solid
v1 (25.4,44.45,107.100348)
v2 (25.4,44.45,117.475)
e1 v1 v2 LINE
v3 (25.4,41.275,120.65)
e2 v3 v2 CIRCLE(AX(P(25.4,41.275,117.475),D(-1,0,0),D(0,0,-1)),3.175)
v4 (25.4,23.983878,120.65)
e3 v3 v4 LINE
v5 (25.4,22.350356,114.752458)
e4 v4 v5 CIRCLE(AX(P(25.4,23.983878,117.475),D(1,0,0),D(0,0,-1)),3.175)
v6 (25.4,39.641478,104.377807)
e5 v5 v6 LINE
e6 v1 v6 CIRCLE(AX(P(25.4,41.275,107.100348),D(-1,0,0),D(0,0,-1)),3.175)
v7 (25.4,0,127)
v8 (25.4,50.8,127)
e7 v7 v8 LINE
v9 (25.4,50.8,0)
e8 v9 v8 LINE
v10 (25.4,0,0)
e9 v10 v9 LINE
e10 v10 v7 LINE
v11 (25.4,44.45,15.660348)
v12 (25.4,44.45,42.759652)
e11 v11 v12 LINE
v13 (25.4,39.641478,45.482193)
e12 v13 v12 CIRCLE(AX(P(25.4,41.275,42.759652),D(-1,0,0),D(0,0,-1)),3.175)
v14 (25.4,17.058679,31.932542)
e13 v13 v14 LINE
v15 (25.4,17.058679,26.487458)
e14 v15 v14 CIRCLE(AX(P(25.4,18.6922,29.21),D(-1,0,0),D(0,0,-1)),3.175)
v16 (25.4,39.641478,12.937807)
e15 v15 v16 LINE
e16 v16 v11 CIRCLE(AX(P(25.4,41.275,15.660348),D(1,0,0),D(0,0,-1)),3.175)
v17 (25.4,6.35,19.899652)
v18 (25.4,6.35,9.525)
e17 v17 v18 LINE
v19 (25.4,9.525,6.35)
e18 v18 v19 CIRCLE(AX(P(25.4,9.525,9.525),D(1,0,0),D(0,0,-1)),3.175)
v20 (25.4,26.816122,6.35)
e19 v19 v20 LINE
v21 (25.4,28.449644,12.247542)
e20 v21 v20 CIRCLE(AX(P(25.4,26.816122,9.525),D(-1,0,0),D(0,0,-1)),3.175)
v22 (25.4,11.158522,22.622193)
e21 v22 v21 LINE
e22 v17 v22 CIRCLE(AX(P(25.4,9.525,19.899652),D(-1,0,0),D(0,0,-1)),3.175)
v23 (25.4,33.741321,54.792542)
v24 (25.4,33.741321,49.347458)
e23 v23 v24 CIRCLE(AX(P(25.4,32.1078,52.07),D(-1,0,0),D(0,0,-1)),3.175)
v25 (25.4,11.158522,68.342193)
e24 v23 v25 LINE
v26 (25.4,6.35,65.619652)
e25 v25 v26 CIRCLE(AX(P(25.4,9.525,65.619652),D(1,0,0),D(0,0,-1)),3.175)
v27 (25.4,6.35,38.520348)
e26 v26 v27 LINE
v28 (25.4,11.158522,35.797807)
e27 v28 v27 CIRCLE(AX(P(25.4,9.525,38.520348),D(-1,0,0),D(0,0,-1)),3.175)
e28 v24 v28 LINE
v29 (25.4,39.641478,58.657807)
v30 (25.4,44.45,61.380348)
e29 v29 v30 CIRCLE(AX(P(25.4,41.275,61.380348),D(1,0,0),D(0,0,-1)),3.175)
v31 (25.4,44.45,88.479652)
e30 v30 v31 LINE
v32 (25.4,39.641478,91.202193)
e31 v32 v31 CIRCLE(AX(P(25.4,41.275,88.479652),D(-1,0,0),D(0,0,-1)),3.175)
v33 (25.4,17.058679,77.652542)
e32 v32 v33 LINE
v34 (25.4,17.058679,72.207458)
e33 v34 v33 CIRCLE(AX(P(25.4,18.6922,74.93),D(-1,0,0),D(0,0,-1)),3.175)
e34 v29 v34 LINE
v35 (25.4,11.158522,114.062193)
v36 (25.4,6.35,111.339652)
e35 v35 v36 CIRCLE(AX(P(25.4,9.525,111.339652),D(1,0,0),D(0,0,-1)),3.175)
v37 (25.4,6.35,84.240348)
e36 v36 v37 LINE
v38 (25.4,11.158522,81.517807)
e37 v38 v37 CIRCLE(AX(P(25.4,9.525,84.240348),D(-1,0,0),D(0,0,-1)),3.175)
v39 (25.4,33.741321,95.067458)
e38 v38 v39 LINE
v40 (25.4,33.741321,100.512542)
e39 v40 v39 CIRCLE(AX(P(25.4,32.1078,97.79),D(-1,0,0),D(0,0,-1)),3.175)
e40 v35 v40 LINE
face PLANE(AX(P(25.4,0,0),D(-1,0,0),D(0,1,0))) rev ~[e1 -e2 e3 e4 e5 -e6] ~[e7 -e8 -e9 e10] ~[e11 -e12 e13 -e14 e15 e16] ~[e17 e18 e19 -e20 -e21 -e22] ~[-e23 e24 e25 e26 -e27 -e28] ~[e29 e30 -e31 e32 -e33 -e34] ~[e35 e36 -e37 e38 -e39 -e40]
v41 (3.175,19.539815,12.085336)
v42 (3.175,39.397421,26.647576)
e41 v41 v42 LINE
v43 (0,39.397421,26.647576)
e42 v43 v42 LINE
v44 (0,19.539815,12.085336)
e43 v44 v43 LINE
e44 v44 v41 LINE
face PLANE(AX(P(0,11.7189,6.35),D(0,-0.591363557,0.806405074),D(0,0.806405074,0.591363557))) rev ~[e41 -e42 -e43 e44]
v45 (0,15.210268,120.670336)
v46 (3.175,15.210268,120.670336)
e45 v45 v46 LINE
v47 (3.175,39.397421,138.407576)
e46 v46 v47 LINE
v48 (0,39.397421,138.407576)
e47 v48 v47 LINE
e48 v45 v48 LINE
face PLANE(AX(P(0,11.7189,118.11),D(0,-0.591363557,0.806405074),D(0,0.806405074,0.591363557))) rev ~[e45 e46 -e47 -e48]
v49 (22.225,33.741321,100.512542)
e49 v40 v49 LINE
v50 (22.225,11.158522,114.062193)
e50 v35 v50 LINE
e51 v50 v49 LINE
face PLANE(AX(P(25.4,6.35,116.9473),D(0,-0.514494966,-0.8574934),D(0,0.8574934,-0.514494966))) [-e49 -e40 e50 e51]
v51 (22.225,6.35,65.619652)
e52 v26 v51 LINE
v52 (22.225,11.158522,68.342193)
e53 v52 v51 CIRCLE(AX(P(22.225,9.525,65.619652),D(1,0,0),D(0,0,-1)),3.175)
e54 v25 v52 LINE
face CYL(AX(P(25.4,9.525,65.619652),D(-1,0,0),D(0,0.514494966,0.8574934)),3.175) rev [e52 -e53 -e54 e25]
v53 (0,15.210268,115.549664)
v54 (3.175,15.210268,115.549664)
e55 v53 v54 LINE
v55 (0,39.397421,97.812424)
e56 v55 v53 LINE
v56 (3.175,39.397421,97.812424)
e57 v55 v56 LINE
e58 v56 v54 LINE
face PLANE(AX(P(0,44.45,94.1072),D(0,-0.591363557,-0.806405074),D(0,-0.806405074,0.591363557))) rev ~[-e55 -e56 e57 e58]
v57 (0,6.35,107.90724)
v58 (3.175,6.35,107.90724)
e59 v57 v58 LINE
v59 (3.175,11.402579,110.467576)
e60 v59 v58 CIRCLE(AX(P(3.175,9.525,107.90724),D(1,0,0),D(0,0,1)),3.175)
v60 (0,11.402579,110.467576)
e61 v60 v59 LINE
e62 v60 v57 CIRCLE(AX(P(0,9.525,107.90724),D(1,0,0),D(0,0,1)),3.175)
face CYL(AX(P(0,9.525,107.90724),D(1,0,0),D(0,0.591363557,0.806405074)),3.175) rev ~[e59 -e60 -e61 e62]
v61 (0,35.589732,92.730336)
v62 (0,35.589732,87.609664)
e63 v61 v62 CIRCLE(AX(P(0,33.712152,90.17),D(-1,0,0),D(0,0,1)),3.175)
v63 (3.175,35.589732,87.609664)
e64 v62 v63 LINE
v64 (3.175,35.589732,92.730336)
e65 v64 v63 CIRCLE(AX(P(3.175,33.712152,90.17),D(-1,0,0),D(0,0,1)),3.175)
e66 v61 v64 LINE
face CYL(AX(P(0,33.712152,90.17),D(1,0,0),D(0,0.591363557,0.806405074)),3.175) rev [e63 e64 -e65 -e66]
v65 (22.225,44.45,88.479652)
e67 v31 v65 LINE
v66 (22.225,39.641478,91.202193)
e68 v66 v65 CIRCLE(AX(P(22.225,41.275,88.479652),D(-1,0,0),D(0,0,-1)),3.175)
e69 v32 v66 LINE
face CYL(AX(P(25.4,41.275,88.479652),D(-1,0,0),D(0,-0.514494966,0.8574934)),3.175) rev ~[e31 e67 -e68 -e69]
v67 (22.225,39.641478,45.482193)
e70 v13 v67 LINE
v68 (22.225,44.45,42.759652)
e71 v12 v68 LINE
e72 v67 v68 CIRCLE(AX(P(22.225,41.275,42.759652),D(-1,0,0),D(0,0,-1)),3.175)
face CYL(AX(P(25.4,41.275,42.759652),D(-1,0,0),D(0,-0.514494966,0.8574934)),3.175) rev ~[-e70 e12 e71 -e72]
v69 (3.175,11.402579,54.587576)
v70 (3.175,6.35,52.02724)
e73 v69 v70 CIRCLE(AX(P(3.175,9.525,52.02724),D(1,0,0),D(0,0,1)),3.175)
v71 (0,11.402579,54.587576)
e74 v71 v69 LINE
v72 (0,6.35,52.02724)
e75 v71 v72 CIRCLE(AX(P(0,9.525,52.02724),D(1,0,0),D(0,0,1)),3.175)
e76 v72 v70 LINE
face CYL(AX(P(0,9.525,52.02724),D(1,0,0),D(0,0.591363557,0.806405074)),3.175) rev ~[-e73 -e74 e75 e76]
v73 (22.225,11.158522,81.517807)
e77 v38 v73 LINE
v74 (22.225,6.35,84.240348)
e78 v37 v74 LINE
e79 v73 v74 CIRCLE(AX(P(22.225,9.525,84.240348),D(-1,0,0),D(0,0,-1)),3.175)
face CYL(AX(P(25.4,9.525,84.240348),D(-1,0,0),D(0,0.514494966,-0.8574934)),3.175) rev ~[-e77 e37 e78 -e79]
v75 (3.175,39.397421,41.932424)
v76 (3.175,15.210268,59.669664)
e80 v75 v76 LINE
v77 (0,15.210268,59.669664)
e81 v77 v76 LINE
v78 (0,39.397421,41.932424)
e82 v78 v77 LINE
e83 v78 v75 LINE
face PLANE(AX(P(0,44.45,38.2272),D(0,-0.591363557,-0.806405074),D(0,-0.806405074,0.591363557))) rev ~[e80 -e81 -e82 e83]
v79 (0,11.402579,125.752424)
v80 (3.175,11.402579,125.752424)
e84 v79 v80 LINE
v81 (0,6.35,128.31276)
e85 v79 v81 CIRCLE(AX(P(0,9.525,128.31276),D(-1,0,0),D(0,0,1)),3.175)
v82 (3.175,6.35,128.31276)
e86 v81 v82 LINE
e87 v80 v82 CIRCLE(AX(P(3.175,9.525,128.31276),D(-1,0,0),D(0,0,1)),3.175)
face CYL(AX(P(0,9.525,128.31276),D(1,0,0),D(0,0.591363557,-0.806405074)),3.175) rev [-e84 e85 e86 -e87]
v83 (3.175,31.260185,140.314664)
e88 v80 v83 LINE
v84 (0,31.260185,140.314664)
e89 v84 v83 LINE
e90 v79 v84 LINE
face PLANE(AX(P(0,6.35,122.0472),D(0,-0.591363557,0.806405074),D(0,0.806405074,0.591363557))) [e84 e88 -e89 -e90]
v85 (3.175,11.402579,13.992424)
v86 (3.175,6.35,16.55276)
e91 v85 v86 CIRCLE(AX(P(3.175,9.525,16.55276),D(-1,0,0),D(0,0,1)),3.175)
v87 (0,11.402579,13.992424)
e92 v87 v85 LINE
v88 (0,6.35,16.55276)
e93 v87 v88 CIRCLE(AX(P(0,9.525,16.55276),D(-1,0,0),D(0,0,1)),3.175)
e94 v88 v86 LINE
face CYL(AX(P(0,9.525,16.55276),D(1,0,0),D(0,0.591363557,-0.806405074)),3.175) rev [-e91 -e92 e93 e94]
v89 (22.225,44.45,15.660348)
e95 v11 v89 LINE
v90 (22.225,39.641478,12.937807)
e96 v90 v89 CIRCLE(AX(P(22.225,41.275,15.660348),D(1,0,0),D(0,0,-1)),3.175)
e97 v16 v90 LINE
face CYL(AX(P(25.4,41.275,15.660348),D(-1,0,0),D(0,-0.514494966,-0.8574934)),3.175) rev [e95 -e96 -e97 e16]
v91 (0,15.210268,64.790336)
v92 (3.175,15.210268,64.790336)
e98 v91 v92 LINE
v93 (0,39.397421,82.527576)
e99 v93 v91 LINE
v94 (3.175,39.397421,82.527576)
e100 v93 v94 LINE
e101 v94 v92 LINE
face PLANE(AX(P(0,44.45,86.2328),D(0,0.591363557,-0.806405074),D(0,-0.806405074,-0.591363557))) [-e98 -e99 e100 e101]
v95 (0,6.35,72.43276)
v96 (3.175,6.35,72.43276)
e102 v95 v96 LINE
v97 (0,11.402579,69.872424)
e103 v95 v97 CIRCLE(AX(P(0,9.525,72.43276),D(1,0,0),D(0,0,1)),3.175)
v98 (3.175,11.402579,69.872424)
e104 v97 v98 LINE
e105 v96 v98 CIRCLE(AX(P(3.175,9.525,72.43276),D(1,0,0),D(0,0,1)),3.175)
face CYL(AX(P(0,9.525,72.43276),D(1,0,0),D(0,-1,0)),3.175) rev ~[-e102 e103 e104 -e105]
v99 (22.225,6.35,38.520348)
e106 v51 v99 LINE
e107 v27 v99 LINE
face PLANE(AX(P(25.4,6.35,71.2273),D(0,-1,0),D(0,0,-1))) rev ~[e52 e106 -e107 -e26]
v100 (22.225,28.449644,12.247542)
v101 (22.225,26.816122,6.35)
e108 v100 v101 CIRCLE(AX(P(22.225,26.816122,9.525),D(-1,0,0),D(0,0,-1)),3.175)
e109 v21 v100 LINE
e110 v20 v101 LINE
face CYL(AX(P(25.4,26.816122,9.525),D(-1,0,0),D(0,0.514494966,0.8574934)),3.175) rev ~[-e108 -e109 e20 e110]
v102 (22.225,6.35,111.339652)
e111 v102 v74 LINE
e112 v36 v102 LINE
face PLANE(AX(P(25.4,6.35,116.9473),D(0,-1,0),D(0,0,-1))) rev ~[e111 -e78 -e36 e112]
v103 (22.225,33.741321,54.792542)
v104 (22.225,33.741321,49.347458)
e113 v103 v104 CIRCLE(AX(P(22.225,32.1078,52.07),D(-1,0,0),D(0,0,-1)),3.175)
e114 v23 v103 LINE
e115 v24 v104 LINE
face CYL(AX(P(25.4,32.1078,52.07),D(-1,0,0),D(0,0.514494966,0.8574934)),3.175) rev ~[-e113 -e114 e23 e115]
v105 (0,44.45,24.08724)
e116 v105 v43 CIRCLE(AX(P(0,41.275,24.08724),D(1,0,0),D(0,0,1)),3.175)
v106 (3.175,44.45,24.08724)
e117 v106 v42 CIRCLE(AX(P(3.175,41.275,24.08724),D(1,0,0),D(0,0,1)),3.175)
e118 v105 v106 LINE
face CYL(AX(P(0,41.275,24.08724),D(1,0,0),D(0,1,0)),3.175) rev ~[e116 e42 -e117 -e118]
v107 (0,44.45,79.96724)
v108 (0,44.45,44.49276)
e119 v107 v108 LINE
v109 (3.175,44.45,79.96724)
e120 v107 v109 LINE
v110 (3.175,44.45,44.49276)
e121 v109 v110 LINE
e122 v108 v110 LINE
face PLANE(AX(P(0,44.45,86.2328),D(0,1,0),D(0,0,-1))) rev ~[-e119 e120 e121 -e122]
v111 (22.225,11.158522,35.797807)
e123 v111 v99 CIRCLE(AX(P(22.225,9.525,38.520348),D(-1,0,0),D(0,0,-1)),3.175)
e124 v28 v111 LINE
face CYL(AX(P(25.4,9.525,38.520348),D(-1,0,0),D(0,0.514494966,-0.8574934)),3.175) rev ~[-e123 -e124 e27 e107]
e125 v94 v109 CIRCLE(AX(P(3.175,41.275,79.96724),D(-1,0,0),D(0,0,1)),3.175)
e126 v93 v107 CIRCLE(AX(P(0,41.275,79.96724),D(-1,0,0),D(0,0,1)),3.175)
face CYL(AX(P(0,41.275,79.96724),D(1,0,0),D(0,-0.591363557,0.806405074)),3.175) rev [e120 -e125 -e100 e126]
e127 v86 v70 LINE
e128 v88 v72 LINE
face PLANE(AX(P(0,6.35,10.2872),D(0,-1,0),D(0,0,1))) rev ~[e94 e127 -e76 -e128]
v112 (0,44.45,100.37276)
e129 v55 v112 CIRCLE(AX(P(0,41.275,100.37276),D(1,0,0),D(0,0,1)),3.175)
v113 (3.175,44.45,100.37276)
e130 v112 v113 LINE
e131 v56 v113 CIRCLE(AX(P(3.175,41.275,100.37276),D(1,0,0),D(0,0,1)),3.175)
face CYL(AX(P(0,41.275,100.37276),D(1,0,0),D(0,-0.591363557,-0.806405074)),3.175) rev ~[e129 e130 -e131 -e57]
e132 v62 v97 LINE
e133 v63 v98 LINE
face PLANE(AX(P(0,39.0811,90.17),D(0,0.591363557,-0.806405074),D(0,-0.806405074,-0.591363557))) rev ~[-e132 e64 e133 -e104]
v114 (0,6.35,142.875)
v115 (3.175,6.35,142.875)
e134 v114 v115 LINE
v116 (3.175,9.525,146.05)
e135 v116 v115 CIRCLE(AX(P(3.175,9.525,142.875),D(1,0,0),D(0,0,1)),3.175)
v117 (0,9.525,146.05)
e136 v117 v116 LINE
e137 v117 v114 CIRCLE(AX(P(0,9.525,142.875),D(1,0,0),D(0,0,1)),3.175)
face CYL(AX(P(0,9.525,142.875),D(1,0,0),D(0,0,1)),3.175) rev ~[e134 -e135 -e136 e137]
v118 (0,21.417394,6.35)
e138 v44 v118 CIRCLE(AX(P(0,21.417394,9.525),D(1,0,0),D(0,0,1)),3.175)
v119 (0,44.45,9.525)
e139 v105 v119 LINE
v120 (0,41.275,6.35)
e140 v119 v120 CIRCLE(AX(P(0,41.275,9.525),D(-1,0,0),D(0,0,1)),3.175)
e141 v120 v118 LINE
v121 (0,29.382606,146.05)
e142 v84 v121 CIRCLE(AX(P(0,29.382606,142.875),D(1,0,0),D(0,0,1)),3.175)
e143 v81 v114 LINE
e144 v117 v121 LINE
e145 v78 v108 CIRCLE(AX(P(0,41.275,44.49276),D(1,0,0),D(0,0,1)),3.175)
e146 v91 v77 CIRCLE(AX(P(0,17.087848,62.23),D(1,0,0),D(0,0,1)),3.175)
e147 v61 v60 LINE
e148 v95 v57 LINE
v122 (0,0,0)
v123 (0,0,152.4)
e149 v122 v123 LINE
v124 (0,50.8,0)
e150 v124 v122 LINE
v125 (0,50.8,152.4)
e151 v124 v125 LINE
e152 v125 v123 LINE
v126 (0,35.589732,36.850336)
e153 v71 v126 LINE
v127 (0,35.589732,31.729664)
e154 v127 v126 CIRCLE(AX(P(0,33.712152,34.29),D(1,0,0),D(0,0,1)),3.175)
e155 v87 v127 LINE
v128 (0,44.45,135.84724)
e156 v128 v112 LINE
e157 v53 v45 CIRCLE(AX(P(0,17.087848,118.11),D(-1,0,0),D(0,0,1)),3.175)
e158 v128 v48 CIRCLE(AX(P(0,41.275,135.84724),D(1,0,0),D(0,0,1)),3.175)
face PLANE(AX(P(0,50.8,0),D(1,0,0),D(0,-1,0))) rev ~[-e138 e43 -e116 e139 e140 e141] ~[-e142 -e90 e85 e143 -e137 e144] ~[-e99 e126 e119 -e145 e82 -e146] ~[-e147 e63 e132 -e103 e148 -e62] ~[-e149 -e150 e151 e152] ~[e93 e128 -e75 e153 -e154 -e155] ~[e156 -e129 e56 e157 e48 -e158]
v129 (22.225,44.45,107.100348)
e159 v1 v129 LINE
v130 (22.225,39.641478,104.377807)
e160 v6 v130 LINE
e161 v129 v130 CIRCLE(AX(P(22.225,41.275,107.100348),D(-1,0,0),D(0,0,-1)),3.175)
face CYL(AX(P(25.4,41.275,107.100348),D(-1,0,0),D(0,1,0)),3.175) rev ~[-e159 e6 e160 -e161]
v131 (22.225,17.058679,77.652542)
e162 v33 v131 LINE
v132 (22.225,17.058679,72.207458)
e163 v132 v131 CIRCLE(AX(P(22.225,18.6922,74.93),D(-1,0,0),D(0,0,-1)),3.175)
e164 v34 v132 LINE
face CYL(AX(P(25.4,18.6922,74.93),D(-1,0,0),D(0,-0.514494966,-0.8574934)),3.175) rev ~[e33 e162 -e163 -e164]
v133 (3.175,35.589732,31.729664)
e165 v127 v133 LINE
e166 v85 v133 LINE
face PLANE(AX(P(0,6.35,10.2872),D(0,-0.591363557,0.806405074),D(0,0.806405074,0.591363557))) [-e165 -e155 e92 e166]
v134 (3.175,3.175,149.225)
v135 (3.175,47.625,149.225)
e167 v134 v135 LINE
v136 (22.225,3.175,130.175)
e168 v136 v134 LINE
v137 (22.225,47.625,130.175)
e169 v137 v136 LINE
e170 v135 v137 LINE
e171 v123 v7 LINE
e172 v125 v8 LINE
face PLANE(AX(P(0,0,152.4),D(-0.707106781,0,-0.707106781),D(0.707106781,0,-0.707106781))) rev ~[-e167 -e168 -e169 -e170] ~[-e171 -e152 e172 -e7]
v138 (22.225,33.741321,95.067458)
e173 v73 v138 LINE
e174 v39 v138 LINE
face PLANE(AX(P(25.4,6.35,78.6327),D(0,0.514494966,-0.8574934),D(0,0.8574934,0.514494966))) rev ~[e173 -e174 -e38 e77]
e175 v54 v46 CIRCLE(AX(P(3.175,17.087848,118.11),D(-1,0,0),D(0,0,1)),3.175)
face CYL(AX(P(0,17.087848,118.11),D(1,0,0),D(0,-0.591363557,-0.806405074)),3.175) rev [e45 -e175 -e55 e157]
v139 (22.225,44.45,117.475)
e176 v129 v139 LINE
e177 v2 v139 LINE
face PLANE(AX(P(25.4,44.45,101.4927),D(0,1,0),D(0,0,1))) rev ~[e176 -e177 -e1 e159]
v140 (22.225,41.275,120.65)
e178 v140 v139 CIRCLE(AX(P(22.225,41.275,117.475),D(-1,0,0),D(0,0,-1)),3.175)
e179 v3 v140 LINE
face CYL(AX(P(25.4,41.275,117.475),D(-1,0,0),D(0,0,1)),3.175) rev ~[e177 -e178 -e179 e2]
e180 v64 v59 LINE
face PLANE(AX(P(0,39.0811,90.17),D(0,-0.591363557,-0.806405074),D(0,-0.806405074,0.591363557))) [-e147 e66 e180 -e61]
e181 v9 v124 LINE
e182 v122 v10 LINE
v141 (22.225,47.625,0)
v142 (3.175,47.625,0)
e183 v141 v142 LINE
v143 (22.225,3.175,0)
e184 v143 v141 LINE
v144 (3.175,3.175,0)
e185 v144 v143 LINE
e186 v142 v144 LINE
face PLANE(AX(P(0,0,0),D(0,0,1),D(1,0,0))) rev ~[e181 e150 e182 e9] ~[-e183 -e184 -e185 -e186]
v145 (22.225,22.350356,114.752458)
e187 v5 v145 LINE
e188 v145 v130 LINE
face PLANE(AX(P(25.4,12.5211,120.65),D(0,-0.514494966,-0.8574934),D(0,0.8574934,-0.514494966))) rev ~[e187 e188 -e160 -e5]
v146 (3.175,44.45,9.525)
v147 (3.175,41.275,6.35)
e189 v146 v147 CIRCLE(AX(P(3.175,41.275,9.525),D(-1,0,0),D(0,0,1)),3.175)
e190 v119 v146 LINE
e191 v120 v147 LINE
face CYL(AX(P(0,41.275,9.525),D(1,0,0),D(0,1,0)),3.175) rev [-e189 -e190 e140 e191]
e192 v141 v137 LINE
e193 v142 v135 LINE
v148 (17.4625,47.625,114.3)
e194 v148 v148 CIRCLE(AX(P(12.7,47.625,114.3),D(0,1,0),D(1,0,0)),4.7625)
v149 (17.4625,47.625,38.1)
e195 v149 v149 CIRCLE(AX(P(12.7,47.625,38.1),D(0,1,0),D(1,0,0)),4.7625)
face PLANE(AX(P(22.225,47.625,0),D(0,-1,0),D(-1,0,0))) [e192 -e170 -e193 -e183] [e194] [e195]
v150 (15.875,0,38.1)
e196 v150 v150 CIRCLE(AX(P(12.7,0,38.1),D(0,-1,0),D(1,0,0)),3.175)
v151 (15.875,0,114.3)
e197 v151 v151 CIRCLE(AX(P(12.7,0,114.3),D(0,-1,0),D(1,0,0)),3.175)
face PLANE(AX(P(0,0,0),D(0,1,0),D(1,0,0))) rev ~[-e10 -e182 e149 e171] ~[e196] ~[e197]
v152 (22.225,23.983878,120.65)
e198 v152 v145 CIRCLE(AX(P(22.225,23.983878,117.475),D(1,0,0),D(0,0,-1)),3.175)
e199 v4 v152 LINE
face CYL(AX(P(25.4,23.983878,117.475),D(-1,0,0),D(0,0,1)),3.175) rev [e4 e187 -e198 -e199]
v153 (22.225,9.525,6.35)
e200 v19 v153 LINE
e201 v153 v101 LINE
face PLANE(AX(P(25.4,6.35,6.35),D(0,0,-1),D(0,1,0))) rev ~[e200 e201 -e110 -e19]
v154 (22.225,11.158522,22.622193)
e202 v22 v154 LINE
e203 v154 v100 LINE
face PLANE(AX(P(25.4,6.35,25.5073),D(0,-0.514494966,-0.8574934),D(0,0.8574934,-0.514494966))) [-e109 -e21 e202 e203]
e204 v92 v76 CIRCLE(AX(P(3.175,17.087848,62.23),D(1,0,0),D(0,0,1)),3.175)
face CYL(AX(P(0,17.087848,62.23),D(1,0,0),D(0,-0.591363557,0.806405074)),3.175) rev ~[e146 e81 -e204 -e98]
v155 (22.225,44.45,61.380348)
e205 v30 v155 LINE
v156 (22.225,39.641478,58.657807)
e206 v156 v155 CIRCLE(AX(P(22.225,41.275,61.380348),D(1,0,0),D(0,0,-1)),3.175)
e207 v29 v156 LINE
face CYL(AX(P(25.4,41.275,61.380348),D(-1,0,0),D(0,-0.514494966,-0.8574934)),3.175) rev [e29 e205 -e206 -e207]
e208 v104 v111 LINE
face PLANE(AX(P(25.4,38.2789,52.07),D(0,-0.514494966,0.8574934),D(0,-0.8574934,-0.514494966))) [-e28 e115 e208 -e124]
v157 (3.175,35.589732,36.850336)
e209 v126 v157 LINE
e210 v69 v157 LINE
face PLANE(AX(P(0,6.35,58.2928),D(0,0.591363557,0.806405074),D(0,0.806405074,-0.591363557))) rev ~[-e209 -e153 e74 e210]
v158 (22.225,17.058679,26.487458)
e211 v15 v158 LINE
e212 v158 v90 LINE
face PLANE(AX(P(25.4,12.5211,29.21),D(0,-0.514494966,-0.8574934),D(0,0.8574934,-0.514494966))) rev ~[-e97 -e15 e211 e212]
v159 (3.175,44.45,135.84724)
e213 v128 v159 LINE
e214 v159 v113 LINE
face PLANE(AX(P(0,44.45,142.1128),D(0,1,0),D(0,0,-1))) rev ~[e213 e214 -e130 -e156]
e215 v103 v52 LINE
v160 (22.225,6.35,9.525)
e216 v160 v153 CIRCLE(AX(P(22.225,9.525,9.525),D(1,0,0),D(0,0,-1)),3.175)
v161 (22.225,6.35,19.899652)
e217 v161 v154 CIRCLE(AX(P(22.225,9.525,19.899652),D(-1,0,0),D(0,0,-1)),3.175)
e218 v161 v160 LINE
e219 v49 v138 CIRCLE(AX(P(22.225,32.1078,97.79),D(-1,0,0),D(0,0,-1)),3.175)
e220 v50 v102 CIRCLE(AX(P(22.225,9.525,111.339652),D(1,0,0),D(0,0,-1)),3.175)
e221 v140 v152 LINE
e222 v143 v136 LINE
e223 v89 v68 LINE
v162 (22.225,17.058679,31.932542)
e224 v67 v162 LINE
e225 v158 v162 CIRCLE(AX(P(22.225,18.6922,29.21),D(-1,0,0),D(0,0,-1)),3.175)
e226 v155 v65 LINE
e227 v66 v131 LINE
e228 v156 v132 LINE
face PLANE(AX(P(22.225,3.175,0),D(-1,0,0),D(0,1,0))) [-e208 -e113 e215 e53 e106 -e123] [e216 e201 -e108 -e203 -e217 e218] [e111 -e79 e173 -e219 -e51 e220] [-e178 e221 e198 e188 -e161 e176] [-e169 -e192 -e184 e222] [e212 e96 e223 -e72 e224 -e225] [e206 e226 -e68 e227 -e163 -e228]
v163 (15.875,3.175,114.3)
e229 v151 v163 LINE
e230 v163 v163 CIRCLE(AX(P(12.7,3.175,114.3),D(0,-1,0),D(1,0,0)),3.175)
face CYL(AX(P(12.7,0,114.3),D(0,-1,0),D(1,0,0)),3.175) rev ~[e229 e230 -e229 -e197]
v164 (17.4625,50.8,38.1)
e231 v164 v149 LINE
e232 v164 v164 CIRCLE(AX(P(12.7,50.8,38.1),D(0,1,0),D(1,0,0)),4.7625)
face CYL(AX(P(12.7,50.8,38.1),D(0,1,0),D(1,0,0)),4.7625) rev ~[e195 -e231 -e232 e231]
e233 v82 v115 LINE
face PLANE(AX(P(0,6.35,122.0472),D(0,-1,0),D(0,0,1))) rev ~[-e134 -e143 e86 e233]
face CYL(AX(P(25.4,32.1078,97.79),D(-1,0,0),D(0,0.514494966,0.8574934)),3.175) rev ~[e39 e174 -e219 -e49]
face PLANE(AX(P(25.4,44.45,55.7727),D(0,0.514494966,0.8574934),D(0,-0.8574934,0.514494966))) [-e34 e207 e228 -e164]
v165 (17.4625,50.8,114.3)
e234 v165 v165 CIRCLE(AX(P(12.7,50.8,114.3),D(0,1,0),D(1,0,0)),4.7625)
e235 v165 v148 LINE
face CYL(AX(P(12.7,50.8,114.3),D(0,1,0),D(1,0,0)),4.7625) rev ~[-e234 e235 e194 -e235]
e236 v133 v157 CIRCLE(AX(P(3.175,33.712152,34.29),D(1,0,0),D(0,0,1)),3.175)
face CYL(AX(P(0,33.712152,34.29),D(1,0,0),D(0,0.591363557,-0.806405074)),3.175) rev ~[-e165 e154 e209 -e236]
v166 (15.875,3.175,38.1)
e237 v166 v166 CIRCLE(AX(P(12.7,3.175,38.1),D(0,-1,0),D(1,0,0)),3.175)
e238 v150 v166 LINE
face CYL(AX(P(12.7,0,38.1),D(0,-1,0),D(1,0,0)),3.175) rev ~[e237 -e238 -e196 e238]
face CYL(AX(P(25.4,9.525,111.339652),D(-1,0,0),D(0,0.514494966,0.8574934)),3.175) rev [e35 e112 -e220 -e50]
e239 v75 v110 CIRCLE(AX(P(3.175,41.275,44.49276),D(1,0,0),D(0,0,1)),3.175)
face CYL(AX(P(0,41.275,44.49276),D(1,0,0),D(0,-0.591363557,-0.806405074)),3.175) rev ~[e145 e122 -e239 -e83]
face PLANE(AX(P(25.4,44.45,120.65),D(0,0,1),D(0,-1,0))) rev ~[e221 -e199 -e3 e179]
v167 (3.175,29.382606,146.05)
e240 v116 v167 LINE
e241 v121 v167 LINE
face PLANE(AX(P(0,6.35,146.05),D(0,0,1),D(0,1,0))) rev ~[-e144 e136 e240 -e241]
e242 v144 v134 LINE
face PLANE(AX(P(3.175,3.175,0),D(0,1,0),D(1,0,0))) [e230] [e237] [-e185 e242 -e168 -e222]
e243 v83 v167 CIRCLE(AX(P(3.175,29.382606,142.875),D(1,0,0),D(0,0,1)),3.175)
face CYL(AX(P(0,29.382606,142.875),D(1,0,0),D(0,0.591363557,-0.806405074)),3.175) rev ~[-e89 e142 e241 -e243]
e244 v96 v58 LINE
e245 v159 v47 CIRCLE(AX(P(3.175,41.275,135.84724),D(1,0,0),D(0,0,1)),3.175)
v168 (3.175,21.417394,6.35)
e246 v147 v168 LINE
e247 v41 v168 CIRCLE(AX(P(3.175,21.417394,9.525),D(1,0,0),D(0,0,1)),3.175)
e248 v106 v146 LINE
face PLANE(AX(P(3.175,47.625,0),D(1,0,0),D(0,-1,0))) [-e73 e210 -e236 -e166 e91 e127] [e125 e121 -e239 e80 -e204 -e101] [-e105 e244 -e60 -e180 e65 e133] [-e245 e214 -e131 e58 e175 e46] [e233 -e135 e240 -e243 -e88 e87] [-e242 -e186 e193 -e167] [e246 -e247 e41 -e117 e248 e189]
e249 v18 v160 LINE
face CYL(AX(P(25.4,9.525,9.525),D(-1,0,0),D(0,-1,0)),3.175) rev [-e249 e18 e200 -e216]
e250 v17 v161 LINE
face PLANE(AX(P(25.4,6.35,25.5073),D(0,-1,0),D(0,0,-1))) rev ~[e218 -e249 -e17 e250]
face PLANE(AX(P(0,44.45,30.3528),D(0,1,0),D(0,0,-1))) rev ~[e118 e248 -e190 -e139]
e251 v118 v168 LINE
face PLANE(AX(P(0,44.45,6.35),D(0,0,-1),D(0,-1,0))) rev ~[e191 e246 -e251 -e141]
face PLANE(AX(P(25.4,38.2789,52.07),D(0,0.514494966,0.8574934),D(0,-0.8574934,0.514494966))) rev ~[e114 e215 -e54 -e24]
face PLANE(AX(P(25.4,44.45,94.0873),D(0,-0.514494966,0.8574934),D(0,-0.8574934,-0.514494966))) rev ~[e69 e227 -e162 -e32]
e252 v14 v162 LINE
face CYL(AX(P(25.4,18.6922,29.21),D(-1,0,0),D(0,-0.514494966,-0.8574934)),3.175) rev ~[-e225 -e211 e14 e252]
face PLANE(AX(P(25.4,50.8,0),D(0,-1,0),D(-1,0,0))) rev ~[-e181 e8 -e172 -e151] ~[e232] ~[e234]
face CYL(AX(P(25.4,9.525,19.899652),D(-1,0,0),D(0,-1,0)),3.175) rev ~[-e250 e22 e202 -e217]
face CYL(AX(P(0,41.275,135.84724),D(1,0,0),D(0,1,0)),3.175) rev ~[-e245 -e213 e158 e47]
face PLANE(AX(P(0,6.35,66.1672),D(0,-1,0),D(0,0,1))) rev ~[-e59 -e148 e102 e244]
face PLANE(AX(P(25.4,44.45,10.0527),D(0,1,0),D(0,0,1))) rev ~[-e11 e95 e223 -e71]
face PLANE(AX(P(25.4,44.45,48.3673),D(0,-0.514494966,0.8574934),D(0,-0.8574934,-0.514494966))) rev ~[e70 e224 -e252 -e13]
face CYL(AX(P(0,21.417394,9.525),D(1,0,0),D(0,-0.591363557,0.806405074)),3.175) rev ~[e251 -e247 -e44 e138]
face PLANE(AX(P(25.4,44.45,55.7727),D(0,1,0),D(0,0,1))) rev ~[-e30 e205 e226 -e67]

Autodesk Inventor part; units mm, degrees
ref_plane "YZ Plane" through (0, 0, 0) normal (1, 0, 0) x (0, 1, 0)
ref_plane "XZ Plane" through (0, 0, 0) normal (0, 1, 0) x (-1, 0, 0)
ref_plane "XY Plane" through (0, 0, 0) normal (0, 0, 1) x (1, 0, 0)
sketch "Sketch1" plane through (0, 0, 0) normal (0, 0, 1) x (1, 0, 0)
  line L0 (0, 0) -> (25.4, 0)
  line L1 (25.4, 0) -> (25.4, 50.8)
  line L2 (25.4, 50.8) -> (0, 50.8)
  line L3 (0, 50.8) -> (0, 0)
  line L4 (3.175, 3.175) -> (22.225, 3.175)
  line L5 (22.225, 3.175) -> (22.225, 47.625)
  line L6 (22.225, 47.625) -> (3.175, 47.625)
  line L7 (3.175, 47.625) -> (3.175, 3.175)
  dimension "d0" = 50.8
  dimension "d1" = 25.4
  dimension "d2" = 3.175
  dimension "d3" = 3.175
  dimension "d4" = 3.175
  dimension "d5" = 3.175
extrude "Extrusion1" add sketch "Sketch1" along normal blind 152.4
sketch "Sketch2" plane through (0, 0, 0) normal (0, -1, 0) x (1, 0, 0)
  line L0 (25.4, 152.4) -> (0, 152.4) projected
  line L1 (0, 0) -> (0, 152.4) projected
  line L2 (25.4, 0) -> (25.4, 152.4) projected
  line L3 (0, 152.4) -> (25.4, 127)
  circle A0 centre (12.7, 114.3) radius 3.175
  circle A1 centre (12.7, 38.1) radius 3.175
  dimension "d8" = 45
  dimension "d9" = 6.35
  dimension "d10" = 12.7
  dimension "d11" = 38.1
  dimension "d12" = 76.2
extrude "Extrusion2" cut sketch "Sketch2" against normal blind 3.175 contours A0 | A1
extrude "Extrusion3" cut sketch "Sketch2" against normal through all contours L2 L3 L0
sketch "Sketch3" plane through (0, 50.8, 0) normal (0, 1, 0) x (1, 0, 0)
  circle A0 centre (12.7, -114.3) radius 3.175 projected
  circle A1 centre (12.7, -38.1) radius 3.175 projected
  circle A2 centre (12.7, -38.1) radius 4.7625
  circle A3 centre (12.7, -114.3) radius 4.7625
  dimension "d17" = 9.525
extrude "Extrusion4" cut sketch "Sketch3" against normal blind 3.175 contours A0 | A1 | A2 | A3
sketch "Sketch4" plane through (25.4, 0, 0) normal (1, 0, 0) x (0, 0, -1)
  line L0 (-127, 50.8) -> (-127, 0) projected
  line L1 (0, 0) -> (-127, 0) projected
  line L2 (0, 0) -> (0, 50.8) projected
  line L3 (0, 50.8) -> (-127, 50.8) projected
  line L4 (0, 50.8) -> (0, 0)
  line L5 (-127, 50.8) -> (0, 50.8)
  line L6 (-127, 0) -> (-127, 50.8)
  line L7 (-127, 0) -> (0, 0)
  line L8 (-55.7727, 44.45) -> (-74.93, 12.5211)
  line L9 (-74.93, 6.35) -> (-52.07, 44.45) construction
  line L10 (-120.65, 6.35) -> (-6.35, 6.35)
  line L11 (-6.35, 44.45) -> (-120.65, 44.45)
  line L12 (-52.07, 38.2789) -> (-71.2273, 6.35)
  line L13 (-52.07, 44.45) -> (-29.21, 6.35) construction
  line L14 (-48.3673, 44.45) -> (-29.21, 12.5211)
  line L15 (-94.0873, 44.45) -> (-74.93, 12.5211)
  line L16 (-97.79, 44.45) -> (-74.93, 6.35) construction
  line L17 (-78.6327, 6.35) -> (-97.79, 38.2789)
  line L18 (-52.07, 38.2789) -> (-32.9127, 6.35)
  line L19 (-116.9473, 6.35) -> (-97.79, 38.2789)
  line L20 (-120.65, 44.45) -> (-120.65, 6.35)
  line L21 (-120.65, 6.35) -> (-97.79, 44.45) construction
  line L22 (-120.65, 12.5211) -> (-101.4927, 44.45)
  line L23 (-29.21, 12.5211) -> (-10.0527, 44.45)
  line L24 (-25.5073, 6.35) -> (-6.35, 38.2789)
  line L25 (-6.35, 6.35) -> (-6.35, 44.45)
  line L26 (-29.21, 6.35) -> (-6.35, 44.45) construction
  dimension "d20" = 30.964
  dimension "d21" = 61.928
  dimension "d22" = 61.928
  dimension "d23" = 61.928
  dimension "d24" = 61.928
  dimension "d25" = 3.175
  dimension "d26" = 3.175
  dimension "d27" = 3.175
  dimension "d28" = 3.175
  dimension "d29" = 3.175
  dimension "d30" = 3.175
  dimension "d31" = 3.175
  dimension "d32" = 3.175
  dimension "d33" = 3.175
  dimension "d34" = 3.175
  dimension "d35" = 6.35
  dimension "d36" = 6.35
  dimension "d37" = 6.35
  dimension "d38" = 6.35
extrude "Extrusion5" cut sketch "Sketch4" against normal blind 3.175 contours L8 L15 L11 | L11 L23 L14 | L22 L20 L11 | L25 L10 L24 | L19 L17 L10 | L10 L12 L18
sketch "Sketch5" plane through (0, 0, 0) normal (-1, 0, 0) x (0, 0, 1)
  line L0 (152.4, 0) -> (152.4, 50.8) projected
  line L1 (0, 50.8) -> (152.4, 50.8) projected
  line L2 (0, 50.8) -> (0, 0) projected
  line L3 (0, 0) -> (152.4, 0) projected
  line L4 (0, 0) -> (0, 50.8)
  line L5 (152.4, 0) -> (0, 0)
  line L6 (152.4, 50.8) -> (152.4, 0)
  line L7 (152.4, 50.8) -> (0, 50.8)
  line L8 (90.17, 39.0811) -> (66.1672, 6.35)
  line L9 (86.2328, 44.45) -> (62.23, 11.7189)
  line L10 (62.23, 6.35) -> (90.17, 44.45) construction
  line L11 (6.35, 6.35) -> (146.05, 6.35)
  line L12 (146.05, 44.45) -> (6.35, 44.45)
  line L13 (90.17, 44.45) -> (118.11, 6.35) construction
  line L14 (90.17, 39.0811) -> (114.1728, 6.35)
  line L15 (118.11, 11.7189) -> (142.1128, 44.45)
  line L16 (118.11, 6.35) -> (146.05, 44.45) construction
  line L17 (146.05, 6.35) -> (146.05, 44.45)
  line L18 (122.0472, 6.35) -> (146.05, 39.0811)
  line L19 (94.1072, 44.45) -> (118.11, 11.7189)
  line L20 (38.2272, 44.45) -> (62.23, 11.7189)
  line L21 (34.29, 44.45) -> (62.23, 6.35) construction
  line L22 (10.2872, 6.35) -> (34.29, 39.0811)
  line L23 (6.35, 44.45) -> (6.35, 6.35)
  line L24 (6.35, 6.35) -> (34.29, 44.45) construction
  line L25 (6.35, 11.7189) -> (30.3528, 44.45)
  line L26 (58.2928, 6.35) -> (34.29, 39.0811)
  dimension "d41" = 36.254
  dimension "d42" = 72.508
  dimension "d43" = 72.508
  dimension "d44" = 72.508
  dimension "d45" = 72.508
  dimension "d46" = 3.175
  dimension "d47" = 3.175
  dimension "d48" = 3.175
  dimension "d49" = 3.175
  dimension "d50" = 3.175
  dimension "d51" = 3.175
  dimension "d52" = 3.175
  dimension "d53" = 3.175
  dimension "d54" = 3.175
  dimension "d55" = 3.175
  dimension "d56" = 6.35
  dimension "d57" = 6.35
  dimension "d58" = 6.35
  dimension "d59" = 6.35
extrude "Extrusion6" cut sketch "Sketch5" against normal blind 3.175 contours L14 L11 L8 | L11 L22 L26 | L18 L17 L11 | L23 L12 L25 | L15 L19 L12 | L12 L9 L20
fillet "Fillet1" radius 3.175 36 edges at (1.5875, 11.7189, 6.35) (1.5875, 44.45, 6.35) (1.5875, 44.45, 30.3528) (1.5875, 39.0811, 34.29) (1.5875, 6.35, 10.2872) (1.5875, 6.35, 58.2928) (1.5875, 44.45, 38.2272) (1.5875, 11.7189, 62.23) (1.5875, 44.45, 86.2328) (1.5875, 39.0811, 90.17) (1.5875, 6.35, 66.1672) (1.5875, 6.35, 114.1728) (1.5875, 44.45, 94.1072) (1.5875, 44.45, 142.1128) (1.5875, 11.7189, 118.11) (1.5875, 39.0811, 146.05) (1.5875, 6.35, 122.0472) (1.5875, 6.35, 146.05) (23.8125, 44.45, 120.65) (23.8125, 44.45, 101.4927) (23.8125, 12.5211, 120.65) (23.8125, 6.35, 116.9473) (23.8125, 38.2789, 97.79) (23.8125, 6.35, 78.6327) (23.8125, 12.5211, 74.93) (23.8125, 44.45, 94.0873) (23.8125, 44.45, 55.7727) (23.8125, 38.2789, 52.07) (23.8125, 6.35, 71.2273) (23.8125, 6.35, 32.9127) (23.8125, 12.5211, 29.21) (23.8125, 44.45, 48.3673) (23.8125, 44.45, 10.0527) (23.8125, 38.2789, 6.35) (23.8125, 6.35, 25.5073) (23.8125, 6.35, 6.35)
equation "\"d3\" = d2"
equation "\"d4\" = d3"
equation "\"d5\" = d4"
equation "\"d21\" = 2 * d20"
equation "\"d22\" = d21"
equation "\"d23\" = d22"
equation "\"d24\" = d23"
equation "\"d26\" = d25"
equation "\"d27\" = d26"
equation "\"d28\" = d27"
equation "\"d29\" = d28"
equation "\"d30\" = d29"
equation "\"d31\" = d30"
equation "\"d32\" = d30"
equation "\"d33\" = d32"
equation "\"d34\" = d33"
equation "\"d42\" = 2 * d41"
equation "\"d43\" = d42"
equation "\"d44\" = d43"
equation "\"d45\" = d44"
equation "\"d47\" = d46"
equation "\"d48\" = d47"
equation "\"d49\" = d48"
equation "\"d50\" = d49"
equation "\"d51\" = d50"
equation "\"d52\" = d51"
equation "\"d53\" = d51"
equation "\"d54\" = d53"
equation "\"d55\" = d54"
properties part number "5in 1by2 frame"
